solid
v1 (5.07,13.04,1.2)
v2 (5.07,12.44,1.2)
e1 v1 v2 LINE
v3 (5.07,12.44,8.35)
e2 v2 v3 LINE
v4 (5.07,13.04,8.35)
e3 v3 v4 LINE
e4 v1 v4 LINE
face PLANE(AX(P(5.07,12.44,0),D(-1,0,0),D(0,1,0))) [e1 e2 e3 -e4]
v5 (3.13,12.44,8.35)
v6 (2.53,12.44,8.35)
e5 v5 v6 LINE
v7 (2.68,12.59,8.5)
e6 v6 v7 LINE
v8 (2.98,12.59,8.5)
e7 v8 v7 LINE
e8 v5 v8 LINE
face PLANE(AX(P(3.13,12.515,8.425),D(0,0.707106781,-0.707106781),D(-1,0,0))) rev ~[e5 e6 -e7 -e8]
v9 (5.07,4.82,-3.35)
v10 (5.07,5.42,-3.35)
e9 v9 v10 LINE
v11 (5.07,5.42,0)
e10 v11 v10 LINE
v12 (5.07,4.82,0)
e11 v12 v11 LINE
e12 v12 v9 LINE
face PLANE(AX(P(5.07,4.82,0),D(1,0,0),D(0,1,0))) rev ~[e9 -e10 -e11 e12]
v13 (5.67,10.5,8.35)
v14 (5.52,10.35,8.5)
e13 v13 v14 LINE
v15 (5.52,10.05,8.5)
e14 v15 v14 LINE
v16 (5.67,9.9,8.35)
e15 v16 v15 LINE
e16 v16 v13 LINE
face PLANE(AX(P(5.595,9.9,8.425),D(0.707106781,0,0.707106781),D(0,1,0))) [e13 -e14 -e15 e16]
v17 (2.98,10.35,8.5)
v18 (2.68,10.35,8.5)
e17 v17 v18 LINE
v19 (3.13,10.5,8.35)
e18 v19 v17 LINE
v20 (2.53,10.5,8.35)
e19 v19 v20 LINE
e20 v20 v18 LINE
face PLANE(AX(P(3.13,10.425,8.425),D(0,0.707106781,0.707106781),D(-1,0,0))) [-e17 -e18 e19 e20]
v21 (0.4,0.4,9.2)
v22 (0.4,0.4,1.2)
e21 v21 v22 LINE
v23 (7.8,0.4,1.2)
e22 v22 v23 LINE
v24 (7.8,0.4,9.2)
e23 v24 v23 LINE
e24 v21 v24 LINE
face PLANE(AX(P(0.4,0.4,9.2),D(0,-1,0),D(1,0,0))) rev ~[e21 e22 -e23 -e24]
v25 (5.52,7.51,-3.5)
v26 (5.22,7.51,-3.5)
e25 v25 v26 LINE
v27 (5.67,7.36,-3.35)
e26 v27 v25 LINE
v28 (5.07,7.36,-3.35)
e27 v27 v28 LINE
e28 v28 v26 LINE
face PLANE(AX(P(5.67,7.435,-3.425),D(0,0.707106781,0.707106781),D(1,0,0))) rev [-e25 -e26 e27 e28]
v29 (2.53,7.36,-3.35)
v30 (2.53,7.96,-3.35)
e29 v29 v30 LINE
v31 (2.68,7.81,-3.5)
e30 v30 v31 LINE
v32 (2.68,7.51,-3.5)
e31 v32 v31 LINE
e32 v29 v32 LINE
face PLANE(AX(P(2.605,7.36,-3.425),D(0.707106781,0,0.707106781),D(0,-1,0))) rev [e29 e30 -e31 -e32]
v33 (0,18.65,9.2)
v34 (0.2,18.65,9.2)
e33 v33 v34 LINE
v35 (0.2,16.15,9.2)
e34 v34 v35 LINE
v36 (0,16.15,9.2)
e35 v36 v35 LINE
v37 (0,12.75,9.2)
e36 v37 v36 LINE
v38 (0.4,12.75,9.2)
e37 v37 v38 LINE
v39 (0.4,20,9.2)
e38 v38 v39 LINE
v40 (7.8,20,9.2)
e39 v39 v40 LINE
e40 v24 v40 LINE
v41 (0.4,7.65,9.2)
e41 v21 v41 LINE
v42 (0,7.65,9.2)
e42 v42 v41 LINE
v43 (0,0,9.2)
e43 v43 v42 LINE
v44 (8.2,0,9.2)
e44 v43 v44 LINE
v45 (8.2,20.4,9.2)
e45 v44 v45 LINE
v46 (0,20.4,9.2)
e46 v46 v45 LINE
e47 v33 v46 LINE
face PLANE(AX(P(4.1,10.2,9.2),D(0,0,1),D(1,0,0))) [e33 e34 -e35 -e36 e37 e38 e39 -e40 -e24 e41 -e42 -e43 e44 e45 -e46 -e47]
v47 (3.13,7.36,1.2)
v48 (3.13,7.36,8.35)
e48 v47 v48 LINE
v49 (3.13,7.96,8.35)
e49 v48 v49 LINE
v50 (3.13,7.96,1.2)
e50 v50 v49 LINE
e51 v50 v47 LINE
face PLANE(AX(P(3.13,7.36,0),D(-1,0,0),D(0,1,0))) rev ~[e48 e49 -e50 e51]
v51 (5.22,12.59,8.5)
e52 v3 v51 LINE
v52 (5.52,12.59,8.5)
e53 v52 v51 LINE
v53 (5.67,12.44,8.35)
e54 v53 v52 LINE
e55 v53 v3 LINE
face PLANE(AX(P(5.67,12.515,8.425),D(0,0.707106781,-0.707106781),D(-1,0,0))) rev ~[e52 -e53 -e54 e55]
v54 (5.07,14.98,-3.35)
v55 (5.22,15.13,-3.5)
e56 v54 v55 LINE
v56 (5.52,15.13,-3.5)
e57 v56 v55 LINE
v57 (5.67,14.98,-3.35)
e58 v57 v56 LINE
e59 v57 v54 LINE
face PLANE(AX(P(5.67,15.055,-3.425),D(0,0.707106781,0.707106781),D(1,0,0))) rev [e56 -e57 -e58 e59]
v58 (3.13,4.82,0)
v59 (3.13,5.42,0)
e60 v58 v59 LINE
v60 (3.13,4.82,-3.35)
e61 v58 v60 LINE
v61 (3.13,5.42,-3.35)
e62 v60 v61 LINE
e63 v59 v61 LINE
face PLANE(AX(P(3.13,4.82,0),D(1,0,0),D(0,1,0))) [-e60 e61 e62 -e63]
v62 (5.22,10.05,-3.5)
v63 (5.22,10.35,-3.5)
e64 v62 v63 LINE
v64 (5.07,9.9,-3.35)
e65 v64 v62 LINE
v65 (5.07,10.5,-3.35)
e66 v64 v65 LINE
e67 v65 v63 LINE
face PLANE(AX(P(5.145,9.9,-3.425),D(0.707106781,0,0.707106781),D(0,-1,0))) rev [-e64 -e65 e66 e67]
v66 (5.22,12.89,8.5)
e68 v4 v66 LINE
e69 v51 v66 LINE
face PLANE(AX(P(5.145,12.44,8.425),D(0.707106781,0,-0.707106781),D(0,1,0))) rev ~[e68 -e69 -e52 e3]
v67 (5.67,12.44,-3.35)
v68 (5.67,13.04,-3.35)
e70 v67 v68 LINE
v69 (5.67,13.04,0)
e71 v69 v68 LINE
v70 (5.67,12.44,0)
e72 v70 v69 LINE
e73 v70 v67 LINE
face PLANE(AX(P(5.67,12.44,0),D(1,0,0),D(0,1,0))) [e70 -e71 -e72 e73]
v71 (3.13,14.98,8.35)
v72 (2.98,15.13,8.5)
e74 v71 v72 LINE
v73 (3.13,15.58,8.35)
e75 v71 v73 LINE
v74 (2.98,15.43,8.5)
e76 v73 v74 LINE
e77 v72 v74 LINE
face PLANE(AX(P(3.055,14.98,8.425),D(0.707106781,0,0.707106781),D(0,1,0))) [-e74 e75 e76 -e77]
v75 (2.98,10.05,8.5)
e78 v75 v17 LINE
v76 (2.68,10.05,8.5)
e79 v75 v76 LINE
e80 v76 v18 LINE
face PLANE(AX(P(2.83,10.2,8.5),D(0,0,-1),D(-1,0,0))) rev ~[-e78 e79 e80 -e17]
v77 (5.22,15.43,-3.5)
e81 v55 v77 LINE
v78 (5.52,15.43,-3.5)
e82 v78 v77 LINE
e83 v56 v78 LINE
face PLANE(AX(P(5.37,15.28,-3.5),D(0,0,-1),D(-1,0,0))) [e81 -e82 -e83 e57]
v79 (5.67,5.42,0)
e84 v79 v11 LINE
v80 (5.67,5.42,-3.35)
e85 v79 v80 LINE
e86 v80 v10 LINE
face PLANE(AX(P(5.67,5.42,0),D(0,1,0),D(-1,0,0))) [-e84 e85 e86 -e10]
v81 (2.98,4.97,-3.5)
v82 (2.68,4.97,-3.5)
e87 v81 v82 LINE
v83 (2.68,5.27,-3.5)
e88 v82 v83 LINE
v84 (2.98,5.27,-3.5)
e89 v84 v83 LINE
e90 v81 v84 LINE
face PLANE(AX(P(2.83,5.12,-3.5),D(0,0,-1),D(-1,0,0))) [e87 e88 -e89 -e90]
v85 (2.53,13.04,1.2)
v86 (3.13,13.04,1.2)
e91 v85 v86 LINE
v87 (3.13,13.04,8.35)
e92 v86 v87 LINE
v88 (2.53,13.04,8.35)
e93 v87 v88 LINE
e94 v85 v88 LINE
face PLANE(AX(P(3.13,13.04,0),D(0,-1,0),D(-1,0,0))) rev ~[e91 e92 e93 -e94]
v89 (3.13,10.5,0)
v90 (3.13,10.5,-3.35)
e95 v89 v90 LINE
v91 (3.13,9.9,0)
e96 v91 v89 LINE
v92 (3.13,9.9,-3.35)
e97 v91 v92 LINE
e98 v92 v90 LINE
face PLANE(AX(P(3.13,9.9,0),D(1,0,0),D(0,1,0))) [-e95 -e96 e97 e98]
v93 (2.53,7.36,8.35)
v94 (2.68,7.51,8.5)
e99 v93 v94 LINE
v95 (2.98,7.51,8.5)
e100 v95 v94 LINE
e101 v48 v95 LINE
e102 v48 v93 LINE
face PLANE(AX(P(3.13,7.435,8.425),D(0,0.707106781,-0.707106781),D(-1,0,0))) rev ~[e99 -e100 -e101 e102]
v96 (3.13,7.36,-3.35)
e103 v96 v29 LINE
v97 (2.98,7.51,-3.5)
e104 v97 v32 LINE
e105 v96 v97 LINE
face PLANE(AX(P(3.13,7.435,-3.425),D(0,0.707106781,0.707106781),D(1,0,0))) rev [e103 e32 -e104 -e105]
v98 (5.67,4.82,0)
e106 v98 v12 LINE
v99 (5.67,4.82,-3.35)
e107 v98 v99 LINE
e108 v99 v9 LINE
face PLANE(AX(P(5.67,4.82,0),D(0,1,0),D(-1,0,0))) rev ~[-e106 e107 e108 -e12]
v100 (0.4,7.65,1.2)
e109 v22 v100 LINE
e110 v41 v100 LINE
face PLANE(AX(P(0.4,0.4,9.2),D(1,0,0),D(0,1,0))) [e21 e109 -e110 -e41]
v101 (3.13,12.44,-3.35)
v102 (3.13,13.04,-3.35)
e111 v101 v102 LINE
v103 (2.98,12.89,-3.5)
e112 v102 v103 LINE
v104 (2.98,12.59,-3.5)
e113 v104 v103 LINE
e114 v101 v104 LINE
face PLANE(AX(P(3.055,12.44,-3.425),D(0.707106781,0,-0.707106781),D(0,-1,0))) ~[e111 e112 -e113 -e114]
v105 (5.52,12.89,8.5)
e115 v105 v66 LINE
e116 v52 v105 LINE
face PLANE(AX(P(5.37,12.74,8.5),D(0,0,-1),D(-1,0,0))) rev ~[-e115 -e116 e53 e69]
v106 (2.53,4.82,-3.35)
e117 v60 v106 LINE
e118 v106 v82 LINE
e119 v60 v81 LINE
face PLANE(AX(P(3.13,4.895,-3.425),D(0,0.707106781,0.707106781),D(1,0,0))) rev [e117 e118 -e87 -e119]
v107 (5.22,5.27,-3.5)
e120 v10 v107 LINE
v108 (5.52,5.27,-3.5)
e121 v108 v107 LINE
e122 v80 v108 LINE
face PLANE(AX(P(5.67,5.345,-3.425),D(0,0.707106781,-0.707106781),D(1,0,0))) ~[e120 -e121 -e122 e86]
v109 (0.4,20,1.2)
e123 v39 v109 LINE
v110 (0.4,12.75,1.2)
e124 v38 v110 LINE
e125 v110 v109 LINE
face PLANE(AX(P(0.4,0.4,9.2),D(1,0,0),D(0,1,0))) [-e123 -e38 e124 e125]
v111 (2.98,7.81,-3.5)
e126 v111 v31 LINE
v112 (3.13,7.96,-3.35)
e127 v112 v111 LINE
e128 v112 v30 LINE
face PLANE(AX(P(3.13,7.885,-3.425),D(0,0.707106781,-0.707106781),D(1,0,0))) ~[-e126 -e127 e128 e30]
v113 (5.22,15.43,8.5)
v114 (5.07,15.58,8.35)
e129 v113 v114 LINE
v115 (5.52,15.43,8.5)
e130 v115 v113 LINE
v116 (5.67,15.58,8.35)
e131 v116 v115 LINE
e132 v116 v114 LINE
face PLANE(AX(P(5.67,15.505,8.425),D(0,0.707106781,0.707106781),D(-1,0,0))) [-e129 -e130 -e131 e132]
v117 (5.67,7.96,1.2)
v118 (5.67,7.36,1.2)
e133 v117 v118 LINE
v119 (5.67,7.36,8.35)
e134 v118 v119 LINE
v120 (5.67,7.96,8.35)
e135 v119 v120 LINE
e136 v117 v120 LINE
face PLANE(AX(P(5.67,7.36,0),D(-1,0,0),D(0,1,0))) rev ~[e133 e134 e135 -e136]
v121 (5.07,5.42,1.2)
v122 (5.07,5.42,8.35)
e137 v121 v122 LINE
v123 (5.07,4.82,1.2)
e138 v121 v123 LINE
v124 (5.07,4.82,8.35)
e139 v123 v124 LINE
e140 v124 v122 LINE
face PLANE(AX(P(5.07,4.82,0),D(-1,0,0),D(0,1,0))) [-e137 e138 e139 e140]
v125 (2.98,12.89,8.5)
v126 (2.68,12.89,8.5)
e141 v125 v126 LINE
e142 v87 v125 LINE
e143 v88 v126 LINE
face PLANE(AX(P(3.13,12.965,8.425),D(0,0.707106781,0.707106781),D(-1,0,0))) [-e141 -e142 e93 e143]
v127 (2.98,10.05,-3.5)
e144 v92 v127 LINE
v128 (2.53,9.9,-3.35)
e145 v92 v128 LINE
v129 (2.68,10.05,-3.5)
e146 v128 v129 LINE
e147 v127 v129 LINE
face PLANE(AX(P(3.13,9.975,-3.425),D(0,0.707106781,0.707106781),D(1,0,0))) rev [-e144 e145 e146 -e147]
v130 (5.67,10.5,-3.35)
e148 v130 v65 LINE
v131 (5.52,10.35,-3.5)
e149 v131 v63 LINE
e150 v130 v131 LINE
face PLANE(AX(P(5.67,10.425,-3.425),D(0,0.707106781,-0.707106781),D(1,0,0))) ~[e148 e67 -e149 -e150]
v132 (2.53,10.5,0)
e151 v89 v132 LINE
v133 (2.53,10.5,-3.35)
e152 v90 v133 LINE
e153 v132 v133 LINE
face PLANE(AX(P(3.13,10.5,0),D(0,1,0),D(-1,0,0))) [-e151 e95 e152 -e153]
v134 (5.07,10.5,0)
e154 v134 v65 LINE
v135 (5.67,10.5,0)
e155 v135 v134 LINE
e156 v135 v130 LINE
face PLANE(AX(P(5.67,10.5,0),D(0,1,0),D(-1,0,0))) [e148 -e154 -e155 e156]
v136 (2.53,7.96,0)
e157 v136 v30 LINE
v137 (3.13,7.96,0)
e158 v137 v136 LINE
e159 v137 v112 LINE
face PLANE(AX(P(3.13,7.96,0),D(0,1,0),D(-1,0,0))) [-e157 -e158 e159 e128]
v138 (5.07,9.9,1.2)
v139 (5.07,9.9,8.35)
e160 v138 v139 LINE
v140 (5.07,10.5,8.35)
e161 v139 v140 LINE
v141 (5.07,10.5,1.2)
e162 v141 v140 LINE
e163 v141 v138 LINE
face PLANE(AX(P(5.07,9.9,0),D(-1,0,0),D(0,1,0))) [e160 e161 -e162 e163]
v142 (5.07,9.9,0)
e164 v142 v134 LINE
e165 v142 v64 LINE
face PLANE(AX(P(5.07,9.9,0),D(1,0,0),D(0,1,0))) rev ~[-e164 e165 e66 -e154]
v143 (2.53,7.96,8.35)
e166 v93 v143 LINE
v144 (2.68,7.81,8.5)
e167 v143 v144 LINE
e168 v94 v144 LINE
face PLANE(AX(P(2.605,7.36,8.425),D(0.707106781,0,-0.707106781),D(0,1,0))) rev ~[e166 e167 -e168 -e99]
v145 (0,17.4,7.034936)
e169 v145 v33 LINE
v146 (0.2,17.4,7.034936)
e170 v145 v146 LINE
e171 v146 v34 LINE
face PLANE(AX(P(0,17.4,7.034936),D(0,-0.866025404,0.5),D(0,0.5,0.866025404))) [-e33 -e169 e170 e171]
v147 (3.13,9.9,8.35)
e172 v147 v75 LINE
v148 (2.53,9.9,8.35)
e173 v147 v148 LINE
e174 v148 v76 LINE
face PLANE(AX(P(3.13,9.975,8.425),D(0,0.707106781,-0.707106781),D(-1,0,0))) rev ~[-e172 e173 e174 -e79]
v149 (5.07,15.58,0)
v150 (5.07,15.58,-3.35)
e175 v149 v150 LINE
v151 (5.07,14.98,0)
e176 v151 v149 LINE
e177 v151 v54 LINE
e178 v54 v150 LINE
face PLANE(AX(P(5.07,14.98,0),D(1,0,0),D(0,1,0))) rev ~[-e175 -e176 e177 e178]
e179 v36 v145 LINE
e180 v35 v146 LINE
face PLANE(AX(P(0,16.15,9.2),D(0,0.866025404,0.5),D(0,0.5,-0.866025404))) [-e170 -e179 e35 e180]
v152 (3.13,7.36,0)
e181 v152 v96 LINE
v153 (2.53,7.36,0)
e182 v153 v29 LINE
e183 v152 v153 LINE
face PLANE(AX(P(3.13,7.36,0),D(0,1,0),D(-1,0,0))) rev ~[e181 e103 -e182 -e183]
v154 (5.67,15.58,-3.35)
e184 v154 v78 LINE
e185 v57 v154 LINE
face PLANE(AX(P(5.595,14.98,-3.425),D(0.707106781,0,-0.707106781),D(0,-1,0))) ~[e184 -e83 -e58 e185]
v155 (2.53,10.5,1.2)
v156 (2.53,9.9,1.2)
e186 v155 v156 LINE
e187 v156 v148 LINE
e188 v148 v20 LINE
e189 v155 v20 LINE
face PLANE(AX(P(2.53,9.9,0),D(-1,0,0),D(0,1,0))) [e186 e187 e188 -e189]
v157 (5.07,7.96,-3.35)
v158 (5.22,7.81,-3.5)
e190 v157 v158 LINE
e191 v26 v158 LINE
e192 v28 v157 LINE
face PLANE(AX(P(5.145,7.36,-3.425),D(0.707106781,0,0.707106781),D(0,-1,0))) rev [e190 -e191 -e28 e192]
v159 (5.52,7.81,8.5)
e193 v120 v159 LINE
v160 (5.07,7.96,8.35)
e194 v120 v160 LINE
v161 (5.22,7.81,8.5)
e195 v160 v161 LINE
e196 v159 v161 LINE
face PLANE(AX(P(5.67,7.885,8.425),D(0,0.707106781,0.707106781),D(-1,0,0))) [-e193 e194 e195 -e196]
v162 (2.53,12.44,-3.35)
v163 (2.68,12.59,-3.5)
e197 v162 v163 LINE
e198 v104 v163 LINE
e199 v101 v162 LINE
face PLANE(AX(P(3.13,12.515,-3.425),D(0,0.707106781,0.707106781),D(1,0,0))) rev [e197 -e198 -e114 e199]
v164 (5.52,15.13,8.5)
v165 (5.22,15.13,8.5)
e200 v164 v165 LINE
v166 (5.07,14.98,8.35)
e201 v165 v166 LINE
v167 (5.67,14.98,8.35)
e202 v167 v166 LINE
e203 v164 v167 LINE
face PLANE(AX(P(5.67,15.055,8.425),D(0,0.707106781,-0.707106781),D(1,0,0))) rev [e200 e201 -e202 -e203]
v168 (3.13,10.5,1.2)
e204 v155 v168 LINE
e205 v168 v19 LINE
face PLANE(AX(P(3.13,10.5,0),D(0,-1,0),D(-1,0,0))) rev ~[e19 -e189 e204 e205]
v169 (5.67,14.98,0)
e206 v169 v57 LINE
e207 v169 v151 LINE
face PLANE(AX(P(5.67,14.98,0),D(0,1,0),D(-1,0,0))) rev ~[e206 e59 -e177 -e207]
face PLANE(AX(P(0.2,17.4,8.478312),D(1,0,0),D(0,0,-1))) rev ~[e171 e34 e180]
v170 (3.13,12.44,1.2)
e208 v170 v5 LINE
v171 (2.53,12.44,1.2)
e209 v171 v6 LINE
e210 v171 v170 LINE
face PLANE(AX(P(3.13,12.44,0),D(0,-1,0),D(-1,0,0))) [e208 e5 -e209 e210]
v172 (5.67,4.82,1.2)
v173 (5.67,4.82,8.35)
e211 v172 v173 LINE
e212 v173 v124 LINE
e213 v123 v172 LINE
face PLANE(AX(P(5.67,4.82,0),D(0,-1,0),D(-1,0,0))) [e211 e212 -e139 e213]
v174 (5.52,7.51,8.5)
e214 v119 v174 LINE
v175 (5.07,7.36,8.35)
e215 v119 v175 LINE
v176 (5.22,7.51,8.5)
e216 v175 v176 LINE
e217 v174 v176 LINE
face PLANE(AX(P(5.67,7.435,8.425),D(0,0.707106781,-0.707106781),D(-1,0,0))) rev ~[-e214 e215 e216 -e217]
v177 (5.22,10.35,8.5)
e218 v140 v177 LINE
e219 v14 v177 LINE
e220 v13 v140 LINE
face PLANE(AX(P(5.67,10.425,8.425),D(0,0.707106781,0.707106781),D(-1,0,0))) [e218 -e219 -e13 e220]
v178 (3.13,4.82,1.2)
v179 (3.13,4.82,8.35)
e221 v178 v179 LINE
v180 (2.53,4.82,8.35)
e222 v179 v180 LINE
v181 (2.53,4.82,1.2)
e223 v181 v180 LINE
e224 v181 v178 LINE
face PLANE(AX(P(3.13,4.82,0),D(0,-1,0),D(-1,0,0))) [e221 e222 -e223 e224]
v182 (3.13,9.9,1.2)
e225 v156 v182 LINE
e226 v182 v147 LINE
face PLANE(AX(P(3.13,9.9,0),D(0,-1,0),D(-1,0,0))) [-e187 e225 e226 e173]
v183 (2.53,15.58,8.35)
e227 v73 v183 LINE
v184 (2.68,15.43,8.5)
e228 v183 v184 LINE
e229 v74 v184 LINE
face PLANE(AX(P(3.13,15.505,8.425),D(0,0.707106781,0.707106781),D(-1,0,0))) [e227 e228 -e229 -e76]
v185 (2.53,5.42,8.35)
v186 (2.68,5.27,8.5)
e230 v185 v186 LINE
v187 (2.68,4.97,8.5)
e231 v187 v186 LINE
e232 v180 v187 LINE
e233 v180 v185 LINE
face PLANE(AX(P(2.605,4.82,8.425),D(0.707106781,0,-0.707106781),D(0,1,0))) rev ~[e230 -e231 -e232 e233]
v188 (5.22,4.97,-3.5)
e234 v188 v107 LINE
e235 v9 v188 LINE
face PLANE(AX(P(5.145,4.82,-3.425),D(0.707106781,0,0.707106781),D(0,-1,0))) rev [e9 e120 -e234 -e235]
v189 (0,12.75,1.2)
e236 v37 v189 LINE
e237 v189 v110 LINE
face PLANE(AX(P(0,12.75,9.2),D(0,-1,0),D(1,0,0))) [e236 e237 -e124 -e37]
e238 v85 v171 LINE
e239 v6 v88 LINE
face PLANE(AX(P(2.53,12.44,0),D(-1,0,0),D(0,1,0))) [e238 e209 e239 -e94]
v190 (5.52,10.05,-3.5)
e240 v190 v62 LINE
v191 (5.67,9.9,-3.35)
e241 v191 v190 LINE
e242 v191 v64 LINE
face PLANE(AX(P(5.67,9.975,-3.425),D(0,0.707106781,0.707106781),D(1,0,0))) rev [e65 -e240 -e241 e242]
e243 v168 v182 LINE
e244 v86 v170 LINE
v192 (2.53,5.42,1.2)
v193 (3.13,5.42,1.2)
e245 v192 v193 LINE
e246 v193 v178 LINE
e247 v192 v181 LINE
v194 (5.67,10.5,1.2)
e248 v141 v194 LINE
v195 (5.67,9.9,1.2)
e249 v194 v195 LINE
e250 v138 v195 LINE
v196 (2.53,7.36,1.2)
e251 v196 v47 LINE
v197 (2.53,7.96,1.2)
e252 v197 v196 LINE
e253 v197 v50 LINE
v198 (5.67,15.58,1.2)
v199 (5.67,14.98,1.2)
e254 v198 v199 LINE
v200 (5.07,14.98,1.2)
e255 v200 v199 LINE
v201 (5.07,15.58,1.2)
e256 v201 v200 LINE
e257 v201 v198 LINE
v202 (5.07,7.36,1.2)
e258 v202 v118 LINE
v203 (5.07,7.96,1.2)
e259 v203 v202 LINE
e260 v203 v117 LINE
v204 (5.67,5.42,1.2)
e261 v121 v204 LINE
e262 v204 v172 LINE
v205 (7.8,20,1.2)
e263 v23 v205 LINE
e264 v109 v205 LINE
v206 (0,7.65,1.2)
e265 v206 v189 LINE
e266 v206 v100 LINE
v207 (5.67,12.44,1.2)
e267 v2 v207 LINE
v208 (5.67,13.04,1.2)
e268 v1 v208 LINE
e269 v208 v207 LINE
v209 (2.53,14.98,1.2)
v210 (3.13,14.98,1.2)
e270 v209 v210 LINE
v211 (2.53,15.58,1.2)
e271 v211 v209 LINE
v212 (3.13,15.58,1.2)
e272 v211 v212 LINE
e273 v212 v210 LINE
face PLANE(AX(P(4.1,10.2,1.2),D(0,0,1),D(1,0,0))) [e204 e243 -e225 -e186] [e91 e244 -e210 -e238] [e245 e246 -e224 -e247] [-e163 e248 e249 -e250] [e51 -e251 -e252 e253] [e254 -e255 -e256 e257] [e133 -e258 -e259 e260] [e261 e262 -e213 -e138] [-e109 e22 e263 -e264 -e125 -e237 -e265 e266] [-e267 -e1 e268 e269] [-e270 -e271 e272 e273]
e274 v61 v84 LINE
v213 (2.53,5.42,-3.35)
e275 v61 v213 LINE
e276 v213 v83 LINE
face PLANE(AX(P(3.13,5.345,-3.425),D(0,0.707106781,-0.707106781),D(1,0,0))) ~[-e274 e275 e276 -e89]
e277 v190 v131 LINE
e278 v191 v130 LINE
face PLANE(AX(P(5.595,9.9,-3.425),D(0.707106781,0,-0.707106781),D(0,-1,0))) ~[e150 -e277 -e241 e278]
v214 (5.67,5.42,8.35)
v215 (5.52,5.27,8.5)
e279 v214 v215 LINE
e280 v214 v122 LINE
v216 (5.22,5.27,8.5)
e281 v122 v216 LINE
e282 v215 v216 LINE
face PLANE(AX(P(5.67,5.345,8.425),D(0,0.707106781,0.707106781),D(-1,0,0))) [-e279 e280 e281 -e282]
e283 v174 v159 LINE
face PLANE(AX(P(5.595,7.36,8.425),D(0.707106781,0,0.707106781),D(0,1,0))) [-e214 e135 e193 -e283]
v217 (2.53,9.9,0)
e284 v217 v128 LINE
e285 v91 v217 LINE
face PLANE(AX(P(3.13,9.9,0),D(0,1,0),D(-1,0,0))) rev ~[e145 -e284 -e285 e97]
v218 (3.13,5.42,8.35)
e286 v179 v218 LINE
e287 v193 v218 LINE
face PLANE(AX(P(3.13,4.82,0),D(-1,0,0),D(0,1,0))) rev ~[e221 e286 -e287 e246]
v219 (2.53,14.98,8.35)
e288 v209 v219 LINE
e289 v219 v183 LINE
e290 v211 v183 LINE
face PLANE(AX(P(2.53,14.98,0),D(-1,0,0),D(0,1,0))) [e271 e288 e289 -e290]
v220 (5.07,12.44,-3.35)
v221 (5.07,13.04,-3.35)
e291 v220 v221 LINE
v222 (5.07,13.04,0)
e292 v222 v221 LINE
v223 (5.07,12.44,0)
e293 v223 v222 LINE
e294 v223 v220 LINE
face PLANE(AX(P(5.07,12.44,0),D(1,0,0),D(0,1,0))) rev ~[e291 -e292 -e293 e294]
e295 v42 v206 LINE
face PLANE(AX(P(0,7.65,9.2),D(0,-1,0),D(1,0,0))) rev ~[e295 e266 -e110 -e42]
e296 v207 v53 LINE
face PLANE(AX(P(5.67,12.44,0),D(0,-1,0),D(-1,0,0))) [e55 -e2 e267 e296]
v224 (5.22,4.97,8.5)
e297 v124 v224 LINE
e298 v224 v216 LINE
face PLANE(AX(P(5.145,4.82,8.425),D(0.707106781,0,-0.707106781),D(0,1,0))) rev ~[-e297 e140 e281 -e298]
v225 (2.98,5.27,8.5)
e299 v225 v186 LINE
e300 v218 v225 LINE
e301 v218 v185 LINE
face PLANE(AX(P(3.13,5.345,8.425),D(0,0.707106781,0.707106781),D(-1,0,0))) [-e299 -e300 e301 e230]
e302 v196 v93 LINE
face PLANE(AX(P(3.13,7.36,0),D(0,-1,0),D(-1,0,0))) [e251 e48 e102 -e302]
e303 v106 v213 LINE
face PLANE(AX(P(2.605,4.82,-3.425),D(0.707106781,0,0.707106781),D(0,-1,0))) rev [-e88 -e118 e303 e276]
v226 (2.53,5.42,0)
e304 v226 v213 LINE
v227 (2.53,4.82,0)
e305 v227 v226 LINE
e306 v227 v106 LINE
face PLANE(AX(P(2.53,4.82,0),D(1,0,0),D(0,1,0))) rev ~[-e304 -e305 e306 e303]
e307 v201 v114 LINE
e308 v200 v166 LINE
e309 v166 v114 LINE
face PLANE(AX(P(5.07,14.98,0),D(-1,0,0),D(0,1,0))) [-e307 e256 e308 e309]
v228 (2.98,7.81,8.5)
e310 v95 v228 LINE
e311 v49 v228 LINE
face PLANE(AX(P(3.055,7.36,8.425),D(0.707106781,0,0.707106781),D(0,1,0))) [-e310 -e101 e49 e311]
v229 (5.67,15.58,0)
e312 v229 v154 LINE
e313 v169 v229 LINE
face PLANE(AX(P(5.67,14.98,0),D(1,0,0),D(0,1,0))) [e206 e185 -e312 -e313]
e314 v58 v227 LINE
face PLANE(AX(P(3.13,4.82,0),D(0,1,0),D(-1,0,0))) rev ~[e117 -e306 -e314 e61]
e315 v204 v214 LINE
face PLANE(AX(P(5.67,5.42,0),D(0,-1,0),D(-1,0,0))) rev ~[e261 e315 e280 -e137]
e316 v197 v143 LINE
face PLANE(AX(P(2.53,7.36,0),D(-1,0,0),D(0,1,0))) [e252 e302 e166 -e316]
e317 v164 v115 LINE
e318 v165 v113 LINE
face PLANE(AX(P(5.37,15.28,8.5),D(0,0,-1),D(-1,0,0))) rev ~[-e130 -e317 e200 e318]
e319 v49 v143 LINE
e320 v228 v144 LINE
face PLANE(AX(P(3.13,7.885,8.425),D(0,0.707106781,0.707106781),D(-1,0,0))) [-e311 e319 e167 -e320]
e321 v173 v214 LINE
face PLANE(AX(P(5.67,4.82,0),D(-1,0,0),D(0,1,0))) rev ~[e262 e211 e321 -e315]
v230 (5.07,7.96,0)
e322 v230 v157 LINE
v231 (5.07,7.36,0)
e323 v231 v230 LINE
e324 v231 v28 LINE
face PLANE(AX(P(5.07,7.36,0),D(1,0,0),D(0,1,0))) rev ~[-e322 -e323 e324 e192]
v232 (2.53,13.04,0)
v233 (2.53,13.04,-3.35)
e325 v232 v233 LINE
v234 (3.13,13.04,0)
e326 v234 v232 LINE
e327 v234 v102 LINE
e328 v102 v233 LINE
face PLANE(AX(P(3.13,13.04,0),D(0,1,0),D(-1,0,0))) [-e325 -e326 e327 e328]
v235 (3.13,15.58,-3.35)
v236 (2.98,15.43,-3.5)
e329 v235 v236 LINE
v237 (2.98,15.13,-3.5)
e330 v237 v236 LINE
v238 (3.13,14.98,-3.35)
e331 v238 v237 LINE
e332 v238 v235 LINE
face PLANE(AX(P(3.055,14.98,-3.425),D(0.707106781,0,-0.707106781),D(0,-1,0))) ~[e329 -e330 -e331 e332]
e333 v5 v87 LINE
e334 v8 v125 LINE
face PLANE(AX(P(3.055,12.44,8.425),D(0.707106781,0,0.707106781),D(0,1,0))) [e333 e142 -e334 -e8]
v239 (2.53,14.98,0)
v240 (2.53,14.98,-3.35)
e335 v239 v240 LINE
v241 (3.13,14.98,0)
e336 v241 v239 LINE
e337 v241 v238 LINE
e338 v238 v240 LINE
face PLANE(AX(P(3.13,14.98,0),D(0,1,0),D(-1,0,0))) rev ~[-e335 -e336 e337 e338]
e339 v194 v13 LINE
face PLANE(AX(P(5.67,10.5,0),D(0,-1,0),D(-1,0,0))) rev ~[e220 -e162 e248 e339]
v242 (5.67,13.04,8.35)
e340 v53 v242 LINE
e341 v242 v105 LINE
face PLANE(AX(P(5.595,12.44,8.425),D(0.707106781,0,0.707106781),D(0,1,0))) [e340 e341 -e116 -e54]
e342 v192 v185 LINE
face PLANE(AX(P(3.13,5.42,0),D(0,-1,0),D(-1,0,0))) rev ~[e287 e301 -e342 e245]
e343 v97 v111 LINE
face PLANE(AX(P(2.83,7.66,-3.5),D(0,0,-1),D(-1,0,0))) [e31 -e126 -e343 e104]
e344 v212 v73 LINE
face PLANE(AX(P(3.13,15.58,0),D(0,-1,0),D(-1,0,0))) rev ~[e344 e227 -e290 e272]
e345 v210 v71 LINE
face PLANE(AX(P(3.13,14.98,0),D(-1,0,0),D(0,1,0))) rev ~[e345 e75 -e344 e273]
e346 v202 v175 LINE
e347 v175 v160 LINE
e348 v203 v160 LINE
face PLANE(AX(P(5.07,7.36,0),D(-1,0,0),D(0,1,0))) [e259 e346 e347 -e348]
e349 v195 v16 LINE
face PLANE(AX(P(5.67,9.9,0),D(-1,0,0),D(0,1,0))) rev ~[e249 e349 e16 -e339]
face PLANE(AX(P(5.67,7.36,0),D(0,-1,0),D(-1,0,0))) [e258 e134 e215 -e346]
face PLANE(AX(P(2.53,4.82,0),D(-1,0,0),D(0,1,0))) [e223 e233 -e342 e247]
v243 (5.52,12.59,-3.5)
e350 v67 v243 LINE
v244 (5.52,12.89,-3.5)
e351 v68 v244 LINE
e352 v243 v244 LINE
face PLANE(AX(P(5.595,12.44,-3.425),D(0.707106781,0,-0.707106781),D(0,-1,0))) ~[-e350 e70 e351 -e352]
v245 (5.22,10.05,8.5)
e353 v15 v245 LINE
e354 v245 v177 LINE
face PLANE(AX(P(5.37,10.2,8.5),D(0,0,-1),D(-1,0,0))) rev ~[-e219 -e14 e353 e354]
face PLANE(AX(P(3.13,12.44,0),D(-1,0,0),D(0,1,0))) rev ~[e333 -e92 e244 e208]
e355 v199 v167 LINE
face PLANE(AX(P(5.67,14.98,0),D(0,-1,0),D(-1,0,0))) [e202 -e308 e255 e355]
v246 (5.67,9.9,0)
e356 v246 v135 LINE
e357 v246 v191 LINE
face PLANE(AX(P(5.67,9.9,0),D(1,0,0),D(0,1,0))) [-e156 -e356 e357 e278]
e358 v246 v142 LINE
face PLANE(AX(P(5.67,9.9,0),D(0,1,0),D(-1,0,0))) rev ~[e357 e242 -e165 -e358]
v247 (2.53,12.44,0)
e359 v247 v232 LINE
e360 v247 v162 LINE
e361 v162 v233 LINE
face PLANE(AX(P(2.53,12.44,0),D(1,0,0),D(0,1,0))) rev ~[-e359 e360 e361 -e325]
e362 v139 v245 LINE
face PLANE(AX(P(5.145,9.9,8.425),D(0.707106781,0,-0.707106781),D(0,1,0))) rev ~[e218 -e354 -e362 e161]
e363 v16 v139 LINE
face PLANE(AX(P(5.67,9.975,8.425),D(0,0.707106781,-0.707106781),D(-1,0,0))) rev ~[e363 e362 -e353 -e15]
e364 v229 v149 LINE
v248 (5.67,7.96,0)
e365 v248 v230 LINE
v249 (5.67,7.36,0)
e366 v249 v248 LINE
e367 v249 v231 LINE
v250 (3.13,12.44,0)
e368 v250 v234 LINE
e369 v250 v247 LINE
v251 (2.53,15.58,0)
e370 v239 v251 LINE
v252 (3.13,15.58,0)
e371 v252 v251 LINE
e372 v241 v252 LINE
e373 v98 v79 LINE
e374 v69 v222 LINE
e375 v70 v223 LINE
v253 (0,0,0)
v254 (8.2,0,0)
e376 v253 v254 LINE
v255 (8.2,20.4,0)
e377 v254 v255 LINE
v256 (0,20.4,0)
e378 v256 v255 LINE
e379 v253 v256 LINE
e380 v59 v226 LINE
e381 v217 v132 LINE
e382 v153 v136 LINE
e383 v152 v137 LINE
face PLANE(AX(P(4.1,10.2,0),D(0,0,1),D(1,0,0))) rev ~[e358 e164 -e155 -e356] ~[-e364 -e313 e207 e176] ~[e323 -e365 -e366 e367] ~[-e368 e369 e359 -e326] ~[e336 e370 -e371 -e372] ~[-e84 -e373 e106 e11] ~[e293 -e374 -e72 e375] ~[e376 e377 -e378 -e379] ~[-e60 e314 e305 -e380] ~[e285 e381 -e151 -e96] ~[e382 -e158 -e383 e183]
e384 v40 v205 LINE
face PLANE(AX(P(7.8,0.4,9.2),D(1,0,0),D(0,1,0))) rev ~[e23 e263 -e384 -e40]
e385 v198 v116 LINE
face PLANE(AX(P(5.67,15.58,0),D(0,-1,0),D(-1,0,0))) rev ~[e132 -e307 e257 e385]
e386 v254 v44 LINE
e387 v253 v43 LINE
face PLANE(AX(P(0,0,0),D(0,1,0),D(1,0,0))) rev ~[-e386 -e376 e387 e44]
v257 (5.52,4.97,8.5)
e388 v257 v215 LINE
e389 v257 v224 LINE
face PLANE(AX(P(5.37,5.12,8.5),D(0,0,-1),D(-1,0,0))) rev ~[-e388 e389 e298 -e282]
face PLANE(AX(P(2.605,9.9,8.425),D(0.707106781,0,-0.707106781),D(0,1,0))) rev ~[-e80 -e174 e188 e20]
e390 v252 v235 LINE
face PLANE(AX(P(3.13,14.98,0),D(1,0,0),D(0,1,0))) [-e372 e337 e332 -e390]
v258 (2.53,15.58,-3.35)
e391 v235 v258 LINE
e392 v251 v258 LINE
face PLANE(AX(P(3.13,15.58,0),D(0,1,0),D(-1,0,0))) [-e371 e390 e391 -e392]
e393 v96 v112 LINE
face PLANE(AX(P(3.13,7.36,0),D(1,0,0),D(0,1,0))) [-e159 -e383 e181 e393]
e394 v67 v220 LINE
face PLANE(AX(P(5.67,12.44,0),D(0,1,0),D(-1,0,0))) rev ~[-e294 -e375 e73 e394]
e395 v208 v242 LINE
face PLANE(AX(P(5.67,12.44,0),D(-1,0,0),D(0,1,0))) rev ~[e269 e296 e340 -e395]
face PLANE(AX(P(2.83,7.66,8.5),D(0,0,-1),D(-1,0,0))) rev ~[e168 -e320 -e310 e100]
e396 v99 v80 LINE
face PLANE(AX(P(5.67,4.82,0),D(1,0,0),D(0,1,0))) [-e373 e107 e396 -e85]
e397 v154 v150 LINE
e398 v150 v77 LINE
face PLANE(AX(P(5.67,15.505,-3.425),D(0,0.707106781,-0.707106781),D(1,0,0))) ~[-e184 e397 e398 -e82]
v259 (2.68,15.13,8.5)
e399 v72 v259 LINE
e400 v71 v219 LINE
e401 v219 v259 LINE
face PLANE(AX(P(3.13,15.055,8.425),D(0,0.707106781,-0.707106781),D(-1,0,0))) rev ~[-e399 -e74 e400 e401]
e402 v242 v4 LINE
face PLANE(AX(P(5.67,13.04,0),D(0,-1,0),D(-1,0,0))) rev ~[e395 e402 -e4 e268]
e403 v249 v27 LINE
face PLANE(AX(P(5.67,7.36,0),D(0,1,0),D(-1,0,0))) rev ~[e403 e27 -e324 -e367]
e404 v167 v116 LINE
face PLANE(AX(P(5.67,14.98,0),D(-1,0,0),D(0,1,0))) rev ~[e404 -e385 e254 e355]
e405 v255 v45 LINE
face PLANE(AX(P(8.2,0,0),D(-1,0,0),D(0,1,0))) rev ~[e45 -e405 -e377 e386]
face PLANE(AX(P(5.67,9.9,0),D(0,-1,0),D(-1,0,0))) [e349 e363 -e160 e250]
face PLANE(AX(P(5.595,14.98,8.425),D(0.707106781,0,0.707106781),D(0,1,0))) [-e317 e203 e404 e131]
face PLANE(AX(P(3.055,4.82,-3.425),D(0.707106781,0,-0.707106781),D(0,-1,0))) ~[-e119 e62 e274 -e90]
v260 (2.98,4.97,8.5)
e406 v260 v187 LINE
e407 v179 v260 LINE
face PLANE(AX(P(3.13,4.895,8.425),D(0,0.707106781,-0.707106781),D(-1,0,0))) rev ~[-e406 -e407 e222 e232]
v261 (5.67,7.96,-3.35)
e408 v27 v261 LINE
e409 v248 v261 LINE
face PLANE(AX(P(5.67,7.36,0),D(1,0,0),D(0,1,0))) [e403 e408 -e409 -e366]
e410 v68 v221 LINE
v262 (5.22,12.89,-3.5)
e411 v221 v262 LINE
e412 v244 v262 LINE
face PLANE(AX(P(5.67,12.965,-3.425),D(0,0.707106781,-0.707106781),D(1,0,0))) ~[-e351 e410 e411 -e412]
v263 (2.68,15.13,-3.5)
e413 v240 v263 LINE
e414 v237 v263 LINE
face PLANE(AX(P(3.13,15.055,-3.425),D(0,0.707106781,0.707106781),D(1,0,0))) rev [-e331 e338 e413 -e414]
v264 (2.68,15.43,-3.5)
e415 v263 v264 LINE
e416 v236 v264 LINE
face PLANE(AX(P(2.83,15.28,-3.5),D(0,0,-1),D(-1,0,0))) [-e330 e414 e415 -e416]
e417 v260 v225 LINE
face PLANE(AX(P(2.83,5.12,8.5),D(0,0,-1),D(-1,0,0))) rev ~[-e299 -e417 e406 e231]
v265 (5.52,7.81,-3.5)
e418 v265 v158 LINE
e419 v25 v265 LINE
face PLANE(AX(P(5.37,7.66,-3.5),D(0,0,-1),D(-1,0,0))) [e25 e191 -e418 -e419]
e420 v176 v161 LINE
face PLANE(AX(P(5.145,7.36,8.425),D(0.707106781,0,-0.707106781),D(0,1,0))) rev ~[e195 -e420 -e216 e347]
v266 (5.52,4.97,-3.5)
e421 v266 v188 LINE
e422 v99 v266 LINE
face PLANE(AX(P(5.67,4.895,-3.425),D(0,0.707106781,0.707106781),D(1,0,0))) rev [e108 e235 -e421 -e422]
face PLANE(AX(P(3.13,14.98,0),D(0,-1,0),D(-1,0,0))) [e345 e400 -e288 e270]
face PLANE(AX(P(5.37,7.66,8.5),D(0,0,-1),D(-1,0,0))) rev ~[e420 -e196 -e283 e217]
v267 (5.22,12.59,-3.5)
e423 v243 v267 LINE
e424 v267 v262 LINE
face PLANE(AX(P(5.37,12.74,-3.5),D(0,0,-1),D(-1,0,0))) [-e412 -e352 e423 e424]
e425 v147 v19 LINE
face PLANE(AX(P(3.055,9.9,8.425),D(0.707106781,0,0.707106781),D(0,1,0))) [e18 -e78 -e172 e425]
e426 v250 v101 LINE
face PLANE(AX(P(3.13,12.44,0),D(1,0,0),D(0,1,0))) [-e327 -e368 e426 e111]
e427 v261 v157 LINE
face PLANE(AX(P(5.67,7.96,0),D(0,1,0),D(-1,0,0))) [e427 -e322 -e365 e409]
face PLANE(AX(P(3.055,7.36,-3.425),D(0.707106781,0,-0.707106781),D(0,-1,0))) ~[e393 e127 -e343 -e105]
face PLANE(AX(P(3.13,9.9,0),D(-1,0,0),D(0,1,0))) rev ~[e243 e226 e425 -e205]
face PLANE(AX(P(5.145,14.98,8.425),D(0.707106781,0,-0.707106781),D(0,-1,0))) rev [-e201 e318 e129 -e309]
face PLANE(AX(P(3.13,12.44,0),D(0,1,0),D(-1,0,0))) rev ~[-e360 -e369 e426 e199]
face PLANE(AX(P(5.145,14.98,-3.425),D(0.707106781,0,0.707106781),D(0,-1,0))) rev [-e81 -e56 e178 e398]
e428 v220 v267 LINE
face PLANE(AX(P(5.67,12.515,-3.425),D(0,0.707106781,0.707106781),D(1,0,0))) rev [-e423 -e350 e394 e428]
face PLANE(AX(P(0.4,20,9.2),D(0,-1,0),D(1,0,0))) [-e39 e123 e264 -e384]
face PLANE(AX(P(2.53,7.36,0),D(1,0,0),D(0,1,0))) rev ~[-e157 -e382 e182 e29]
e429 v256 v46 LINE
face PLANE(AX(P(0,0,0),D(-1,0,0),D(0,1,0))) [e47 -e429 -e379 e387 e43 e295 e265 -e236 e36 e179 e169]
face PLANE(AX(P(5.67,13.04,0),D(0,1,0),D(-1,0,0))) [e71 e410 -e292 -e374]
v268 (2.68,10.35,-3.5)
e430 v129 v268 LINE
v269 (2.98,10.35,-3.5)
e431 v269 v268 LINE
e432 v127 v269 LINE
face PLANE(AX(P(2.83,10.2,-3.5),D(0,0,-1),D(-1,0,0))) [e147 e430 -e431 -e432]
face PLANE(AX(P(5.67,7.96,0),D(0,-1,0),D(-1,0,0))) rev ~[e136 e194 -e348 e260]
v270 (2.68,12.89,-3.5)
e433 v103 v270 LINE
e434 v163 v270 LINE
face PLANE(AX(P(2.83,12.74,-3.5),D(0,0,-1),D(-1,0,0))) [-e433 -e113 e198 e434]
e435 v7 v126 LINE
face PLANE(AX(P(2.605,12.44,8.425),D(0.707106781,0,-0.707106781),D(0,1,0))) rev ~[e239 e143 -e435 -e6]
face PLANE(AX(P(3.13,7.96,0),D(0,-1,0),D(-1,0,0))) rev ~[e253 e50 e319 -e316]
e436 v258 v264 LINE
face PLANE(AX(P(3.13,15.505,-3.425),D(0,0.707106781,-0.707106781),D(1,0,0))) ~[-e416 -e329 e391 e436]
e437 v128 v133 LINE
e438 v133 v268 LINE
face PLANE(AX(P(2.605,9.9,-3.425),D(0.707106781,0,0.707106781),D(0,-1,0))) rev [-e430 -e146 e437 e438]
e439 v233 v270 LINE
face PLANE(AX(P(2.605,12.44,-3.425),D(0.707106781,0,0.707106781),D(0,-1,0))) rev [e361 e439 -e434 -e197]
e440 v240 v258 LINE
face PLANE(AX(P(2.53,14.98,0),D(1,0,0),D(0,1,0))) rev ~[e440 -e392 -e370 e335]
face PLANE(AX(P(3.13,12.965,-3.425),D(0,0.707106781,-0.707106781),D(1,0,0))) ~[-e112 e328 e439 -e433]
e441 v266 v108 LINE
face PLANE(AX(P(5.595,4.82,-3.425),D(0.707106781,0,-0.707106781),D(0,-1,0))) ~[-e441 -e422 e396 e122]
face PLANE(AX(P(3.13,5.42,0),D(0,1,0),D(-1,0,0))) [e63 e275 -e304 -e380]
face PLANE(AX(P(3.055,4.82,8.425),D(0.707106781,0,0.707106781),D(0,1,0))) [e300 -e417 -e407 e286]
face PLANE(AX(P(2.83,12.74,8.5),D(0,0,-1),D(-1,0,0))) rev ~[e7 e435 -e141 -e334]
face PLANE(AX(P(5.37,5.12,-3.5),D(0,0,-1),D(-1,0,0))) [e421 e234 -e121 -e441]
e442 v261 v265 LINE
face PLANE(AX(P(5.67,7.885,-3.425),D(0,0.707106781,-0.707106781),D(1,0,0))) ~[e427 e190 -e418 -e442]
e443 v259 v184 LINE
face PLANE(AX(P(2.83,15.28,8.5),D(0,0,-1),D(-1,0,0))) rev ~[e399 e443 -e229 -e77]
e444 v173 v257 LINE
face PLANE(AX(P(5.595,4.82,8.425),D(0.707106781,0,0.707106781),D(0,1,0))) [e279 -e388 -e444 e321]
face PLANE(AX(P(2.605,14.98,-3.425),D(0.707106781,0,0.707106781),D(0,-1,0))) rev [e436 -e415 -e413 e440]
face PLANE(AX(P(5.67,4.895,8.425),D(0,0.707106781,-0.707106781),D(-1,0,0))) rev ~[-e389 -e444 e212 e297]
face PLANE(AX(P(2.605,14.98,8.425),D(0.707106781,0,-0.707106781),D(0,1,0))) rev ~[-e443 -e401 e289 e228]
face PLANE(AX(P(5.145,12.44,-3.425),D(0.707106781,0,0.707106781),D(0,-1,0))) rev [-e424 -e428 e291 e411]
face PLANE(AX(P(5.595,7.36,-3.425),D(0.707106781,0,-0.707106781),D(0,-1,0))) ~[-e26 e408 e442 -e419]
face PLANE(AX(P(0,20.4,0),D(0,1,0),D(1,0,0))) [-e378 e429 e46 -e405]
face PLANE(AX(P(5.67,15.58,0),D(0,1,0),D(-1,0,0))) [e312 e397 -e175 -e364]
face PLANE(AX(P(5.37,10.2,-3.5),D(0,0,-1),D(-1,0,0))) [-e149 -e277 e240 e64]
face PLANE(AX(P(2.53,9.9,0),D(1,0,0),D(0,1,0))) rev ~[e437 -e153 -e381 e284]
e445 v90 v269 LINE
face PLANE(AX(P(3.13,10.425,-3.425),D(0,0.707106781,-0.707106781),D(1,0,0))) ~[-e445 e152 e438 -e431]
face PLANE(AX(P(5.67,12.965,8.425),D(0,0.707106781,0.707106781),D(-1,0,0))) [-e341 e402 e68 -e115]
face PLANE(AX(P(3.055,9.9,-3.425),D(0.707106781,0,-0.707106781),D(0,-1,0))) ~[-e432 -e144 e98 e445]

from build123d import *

# Parameters (mm, degrees)
ESQUISSE1_W             = 8.2
ESQUISSE1_H             = 20.4
BOSS_EXTRU_1_DEPTH      = 9.2
ESQUISSE2_W             = 7.4
ESQUISSE2_H             = 19.6
ENL_V_MAT_EXTRU_1_DEPTH = 8
ESQUISSE3_W             = 0.6
ESQUISSE3_H             = 0.6
BOSS_EXTRU_2_DEPTH      = 3.5
BOSS_EXTRU_2_DEPTH_BACK = 8.5
CHANFREIN1_SIZE         = 0.15
ESQUISSE4_W             = 0.4
ESQUISSE4_H             = 5.1
ENL_V_MAT_EXTRU_2_DEPTH = 8
ENL_V_MAT_EXTRU_3_DEPTH = 0.2


with BuildPart() as part:
    # Esquisse1 → Boss.-Extru.1 (new body)
    with BuildSketch(Plane.XY):
        with Locations((4.1, 10.2)):
            Rectangle(ESQUISSE1_W, ESQUISSE1_H)
    extrude(amount=BOSS_EXTRU_1_DEPTH)

    # Esquisse2 → Enlèv. mat.-Extru.1 (cut)
    with BuildSketch(Plane.XY.offset(9.2)):
        with Locations((4.1, 10.2)):
            Rectangle(ESQUISSE2_W, ESQUISSE2_H)
    extrude(amount=-ENL_V_MAT_EXTRU_1_DEPTH, mode=Mode.SUBTRACT)

    # Esquisse3 → Boss.-Extru.2 (add, two sides)
    with BuildSketch(Plane(origin=(0, 0, 0), x_dir=(-1, 0, 0), z_dir=(0, 0, -1))) as boss_extru_2_sk:
        with Locations((-5.37, 15.28)):
            Rectangle(ESQUISSE3_W, ESQUISSE3_H)
        with Locations((-2.83, 15.28)):
            Rectangle(ESQUISSE3_W, ESQUISSE3_H)
        with Locations((-5.37, 12.74)):
            Rectangle(ESQUISSE3_W, ESQUISSE3_H)
        with Locations((-2.83, 12.74)):
            Rectangle(ESQUISSE3_W, ESQUISSE3_H)
        with Locations((-5.37, 10.2)):
            Rectangle(ESQUISSE3_W, ESQUISSE3_H)
        with Locations((-2.83, 10.2)):
            Rectangle(ESQUISSE3_W, ESQUISSE3_H)
        with Locations((-5.37, 7.66)):
            Rectangle(ESQUISSE3_W, ESQUISSE3_H)
        with Locations((-2.83, 7.66)):
            Rectangle(ESQUISSE3_W, ESQUISSE3_H)
        with Locations((-5.37, 5.12)):
            Rectangle(ESQUISSE3_W, ESQUISSE3_H)
        with Locations((-2.83, 5.12)):
            Rectangle(ESQUISSE3_W, ESQUISSE3_H)
    extrude(amount=BOSS_EXTRU_2_DEPTH)
    extrude(boss_extru_2_sk.sketch, amount=-BOSS_EXTRU_2_DEPTH_BACK)

    # Chanfrein1
    chanfrein1_edges = [part.edges().sort_by_distance(p)[0] for p in [
        (5.07, 10.2, 8.5),
        (5.37, 9.9, 8.5),
        (5.67, 10.2, 8.5),
        (5.37, 10.5, 8.5),
        (5.07, 10.2, -3.5),
        (5.37, 10.5, -3.5),
        (5.67, 10.2, -3.5),
        (5.37, 9.9, -3.5),
        (2.53, 10.2, 8.5),
        (2.83, 9.9, 8.5),
        (3.13, 10.2, 8.5),
        (2.83, 10.5, 8.5),
        (2.53, 10.2, -3.5),
        (2.83, 10.5, -3.5),
        (3.13, 10.2, -3.5),
        (2.83, 9.9, -3.5),
        (5.07, 7.66, 8.5),
        (5.37, 7.36, 8.5),
        (5.67, 7.66, 8.5),
        (5.37, 7.96, 8.5),
        (5.07, 7.66, -3.5),
        (5.37, 7.96, -3.5),
        (5.67, 7.66, -3.5),
        (5.37, 7.36, -3.5),
        (2.53, 7.66, 8.5),
        (2.83, 7.36, 8.5),
        (3.13, 7.66, 8.5),
        (2.83, 7.96, 8.5),
        (2.53, 7.66, -3.5),
        (2.83, 7.96, -3.5),
        (3.13, 7.66, -3.5),
        (2.83, 7.36, -3.5),
        (5.07, 5.12, 8.5),
        (5.37, 4.82, 8.5),
        (5.67, 5.12, 8.5),
        (5.37, 5.42, 8.5),
        (5.07, 5.12, -3.5),
        (5.37, 5.42, -3.5),
        (5.67, 5.12, -3.5),
        (5.37, 4.82, -3.5),
        (2.53, 5.12, 8.5),
        (2.83, 4.82, 8.5),
        (3.13, 5.12, 8.5),
        (2.83, 5.42, 8.5),
        (2.53, 5.12, -3.5),
        (2.83, 5.42, -3.5),
        (3.13, 5.12, -3.5),
        (2.83, 4.82, -3.5),
        (5.07, 15.28, 8.5),
        (5.37, 14.98, 8.5),
        (5.67, 15.28, 8.5),
        (5.37, 15.58, 8.5),
        (5.07, 15.28, -3.5),
        (5.37, 15.58, -3.5),
        (5.67, 15.28, -3.5),
        (5.37, 14.98, -3.5),
        (2.53, 15.28, 8.5),
        (2.83, 14.98, 8.5),
        (3.13, 15.28, 8.5),
        (2.83, 15.58, 8.5),
        (2.53, 15.28, -3.5),
        (2.83, 15.58, -3.5),
        (3.13, 15.28, -3.5),
        (2.83, 14.98, -3.5),
        (5.07, 12.74, 8.5),
        (5.37, 12.44, 8.5),
        (5.67, 12.74, 8.5),
        (5.37, 13.04, 8.5),
        (5.07, 12.74, -3.5),
        (5.37, 13.04, -3.5),
        (5.67, 12.74, -3.5),
        (5.37, 12.44, -3.5),
        (2.53, 12.74, 8.5),
        (2.83, 12.44, 8.5),
        (3.13, 12.74, 8.5),
        (2.83, 13.04, 8.5),
        (2.53, 12.74, -3.5),
        (2.83, 13.04, -3.5),
        (3.13, 12.74, -3.5),
        (2.83, 12.44, -3.5),
    ]]
    chamfer(chanfrein1_edges, length=CHANFREIN1_SIZE)

    # Esquisse4 → Enlèv. mat.-Extru.2 (cut)
    with BuildSketch(Plane.XY.offset(9.2)):
        with Locations((0.2, 10.2)):
            Rectangle(ESQUISSE4_W, ESQUISSE4_H)
    extrude(amount=-ENL_V_MAT_EXTRU_2_DEPTH, mode=Mode.SUBTRACT)

    # Esquisse5 → Enlèv. mat.-Extru.3 (cut)
    with BuildSketch(Plane.ZY):
        Polygon((9.2, 18.65), (9.2, 16.15), (7.034936491, 17.4), align=None)
    extrude(amount=-ENL_V_MAT_EXTRU_3_DEPTH, mode=Mode.SUBTRACT)


solid = part.part
